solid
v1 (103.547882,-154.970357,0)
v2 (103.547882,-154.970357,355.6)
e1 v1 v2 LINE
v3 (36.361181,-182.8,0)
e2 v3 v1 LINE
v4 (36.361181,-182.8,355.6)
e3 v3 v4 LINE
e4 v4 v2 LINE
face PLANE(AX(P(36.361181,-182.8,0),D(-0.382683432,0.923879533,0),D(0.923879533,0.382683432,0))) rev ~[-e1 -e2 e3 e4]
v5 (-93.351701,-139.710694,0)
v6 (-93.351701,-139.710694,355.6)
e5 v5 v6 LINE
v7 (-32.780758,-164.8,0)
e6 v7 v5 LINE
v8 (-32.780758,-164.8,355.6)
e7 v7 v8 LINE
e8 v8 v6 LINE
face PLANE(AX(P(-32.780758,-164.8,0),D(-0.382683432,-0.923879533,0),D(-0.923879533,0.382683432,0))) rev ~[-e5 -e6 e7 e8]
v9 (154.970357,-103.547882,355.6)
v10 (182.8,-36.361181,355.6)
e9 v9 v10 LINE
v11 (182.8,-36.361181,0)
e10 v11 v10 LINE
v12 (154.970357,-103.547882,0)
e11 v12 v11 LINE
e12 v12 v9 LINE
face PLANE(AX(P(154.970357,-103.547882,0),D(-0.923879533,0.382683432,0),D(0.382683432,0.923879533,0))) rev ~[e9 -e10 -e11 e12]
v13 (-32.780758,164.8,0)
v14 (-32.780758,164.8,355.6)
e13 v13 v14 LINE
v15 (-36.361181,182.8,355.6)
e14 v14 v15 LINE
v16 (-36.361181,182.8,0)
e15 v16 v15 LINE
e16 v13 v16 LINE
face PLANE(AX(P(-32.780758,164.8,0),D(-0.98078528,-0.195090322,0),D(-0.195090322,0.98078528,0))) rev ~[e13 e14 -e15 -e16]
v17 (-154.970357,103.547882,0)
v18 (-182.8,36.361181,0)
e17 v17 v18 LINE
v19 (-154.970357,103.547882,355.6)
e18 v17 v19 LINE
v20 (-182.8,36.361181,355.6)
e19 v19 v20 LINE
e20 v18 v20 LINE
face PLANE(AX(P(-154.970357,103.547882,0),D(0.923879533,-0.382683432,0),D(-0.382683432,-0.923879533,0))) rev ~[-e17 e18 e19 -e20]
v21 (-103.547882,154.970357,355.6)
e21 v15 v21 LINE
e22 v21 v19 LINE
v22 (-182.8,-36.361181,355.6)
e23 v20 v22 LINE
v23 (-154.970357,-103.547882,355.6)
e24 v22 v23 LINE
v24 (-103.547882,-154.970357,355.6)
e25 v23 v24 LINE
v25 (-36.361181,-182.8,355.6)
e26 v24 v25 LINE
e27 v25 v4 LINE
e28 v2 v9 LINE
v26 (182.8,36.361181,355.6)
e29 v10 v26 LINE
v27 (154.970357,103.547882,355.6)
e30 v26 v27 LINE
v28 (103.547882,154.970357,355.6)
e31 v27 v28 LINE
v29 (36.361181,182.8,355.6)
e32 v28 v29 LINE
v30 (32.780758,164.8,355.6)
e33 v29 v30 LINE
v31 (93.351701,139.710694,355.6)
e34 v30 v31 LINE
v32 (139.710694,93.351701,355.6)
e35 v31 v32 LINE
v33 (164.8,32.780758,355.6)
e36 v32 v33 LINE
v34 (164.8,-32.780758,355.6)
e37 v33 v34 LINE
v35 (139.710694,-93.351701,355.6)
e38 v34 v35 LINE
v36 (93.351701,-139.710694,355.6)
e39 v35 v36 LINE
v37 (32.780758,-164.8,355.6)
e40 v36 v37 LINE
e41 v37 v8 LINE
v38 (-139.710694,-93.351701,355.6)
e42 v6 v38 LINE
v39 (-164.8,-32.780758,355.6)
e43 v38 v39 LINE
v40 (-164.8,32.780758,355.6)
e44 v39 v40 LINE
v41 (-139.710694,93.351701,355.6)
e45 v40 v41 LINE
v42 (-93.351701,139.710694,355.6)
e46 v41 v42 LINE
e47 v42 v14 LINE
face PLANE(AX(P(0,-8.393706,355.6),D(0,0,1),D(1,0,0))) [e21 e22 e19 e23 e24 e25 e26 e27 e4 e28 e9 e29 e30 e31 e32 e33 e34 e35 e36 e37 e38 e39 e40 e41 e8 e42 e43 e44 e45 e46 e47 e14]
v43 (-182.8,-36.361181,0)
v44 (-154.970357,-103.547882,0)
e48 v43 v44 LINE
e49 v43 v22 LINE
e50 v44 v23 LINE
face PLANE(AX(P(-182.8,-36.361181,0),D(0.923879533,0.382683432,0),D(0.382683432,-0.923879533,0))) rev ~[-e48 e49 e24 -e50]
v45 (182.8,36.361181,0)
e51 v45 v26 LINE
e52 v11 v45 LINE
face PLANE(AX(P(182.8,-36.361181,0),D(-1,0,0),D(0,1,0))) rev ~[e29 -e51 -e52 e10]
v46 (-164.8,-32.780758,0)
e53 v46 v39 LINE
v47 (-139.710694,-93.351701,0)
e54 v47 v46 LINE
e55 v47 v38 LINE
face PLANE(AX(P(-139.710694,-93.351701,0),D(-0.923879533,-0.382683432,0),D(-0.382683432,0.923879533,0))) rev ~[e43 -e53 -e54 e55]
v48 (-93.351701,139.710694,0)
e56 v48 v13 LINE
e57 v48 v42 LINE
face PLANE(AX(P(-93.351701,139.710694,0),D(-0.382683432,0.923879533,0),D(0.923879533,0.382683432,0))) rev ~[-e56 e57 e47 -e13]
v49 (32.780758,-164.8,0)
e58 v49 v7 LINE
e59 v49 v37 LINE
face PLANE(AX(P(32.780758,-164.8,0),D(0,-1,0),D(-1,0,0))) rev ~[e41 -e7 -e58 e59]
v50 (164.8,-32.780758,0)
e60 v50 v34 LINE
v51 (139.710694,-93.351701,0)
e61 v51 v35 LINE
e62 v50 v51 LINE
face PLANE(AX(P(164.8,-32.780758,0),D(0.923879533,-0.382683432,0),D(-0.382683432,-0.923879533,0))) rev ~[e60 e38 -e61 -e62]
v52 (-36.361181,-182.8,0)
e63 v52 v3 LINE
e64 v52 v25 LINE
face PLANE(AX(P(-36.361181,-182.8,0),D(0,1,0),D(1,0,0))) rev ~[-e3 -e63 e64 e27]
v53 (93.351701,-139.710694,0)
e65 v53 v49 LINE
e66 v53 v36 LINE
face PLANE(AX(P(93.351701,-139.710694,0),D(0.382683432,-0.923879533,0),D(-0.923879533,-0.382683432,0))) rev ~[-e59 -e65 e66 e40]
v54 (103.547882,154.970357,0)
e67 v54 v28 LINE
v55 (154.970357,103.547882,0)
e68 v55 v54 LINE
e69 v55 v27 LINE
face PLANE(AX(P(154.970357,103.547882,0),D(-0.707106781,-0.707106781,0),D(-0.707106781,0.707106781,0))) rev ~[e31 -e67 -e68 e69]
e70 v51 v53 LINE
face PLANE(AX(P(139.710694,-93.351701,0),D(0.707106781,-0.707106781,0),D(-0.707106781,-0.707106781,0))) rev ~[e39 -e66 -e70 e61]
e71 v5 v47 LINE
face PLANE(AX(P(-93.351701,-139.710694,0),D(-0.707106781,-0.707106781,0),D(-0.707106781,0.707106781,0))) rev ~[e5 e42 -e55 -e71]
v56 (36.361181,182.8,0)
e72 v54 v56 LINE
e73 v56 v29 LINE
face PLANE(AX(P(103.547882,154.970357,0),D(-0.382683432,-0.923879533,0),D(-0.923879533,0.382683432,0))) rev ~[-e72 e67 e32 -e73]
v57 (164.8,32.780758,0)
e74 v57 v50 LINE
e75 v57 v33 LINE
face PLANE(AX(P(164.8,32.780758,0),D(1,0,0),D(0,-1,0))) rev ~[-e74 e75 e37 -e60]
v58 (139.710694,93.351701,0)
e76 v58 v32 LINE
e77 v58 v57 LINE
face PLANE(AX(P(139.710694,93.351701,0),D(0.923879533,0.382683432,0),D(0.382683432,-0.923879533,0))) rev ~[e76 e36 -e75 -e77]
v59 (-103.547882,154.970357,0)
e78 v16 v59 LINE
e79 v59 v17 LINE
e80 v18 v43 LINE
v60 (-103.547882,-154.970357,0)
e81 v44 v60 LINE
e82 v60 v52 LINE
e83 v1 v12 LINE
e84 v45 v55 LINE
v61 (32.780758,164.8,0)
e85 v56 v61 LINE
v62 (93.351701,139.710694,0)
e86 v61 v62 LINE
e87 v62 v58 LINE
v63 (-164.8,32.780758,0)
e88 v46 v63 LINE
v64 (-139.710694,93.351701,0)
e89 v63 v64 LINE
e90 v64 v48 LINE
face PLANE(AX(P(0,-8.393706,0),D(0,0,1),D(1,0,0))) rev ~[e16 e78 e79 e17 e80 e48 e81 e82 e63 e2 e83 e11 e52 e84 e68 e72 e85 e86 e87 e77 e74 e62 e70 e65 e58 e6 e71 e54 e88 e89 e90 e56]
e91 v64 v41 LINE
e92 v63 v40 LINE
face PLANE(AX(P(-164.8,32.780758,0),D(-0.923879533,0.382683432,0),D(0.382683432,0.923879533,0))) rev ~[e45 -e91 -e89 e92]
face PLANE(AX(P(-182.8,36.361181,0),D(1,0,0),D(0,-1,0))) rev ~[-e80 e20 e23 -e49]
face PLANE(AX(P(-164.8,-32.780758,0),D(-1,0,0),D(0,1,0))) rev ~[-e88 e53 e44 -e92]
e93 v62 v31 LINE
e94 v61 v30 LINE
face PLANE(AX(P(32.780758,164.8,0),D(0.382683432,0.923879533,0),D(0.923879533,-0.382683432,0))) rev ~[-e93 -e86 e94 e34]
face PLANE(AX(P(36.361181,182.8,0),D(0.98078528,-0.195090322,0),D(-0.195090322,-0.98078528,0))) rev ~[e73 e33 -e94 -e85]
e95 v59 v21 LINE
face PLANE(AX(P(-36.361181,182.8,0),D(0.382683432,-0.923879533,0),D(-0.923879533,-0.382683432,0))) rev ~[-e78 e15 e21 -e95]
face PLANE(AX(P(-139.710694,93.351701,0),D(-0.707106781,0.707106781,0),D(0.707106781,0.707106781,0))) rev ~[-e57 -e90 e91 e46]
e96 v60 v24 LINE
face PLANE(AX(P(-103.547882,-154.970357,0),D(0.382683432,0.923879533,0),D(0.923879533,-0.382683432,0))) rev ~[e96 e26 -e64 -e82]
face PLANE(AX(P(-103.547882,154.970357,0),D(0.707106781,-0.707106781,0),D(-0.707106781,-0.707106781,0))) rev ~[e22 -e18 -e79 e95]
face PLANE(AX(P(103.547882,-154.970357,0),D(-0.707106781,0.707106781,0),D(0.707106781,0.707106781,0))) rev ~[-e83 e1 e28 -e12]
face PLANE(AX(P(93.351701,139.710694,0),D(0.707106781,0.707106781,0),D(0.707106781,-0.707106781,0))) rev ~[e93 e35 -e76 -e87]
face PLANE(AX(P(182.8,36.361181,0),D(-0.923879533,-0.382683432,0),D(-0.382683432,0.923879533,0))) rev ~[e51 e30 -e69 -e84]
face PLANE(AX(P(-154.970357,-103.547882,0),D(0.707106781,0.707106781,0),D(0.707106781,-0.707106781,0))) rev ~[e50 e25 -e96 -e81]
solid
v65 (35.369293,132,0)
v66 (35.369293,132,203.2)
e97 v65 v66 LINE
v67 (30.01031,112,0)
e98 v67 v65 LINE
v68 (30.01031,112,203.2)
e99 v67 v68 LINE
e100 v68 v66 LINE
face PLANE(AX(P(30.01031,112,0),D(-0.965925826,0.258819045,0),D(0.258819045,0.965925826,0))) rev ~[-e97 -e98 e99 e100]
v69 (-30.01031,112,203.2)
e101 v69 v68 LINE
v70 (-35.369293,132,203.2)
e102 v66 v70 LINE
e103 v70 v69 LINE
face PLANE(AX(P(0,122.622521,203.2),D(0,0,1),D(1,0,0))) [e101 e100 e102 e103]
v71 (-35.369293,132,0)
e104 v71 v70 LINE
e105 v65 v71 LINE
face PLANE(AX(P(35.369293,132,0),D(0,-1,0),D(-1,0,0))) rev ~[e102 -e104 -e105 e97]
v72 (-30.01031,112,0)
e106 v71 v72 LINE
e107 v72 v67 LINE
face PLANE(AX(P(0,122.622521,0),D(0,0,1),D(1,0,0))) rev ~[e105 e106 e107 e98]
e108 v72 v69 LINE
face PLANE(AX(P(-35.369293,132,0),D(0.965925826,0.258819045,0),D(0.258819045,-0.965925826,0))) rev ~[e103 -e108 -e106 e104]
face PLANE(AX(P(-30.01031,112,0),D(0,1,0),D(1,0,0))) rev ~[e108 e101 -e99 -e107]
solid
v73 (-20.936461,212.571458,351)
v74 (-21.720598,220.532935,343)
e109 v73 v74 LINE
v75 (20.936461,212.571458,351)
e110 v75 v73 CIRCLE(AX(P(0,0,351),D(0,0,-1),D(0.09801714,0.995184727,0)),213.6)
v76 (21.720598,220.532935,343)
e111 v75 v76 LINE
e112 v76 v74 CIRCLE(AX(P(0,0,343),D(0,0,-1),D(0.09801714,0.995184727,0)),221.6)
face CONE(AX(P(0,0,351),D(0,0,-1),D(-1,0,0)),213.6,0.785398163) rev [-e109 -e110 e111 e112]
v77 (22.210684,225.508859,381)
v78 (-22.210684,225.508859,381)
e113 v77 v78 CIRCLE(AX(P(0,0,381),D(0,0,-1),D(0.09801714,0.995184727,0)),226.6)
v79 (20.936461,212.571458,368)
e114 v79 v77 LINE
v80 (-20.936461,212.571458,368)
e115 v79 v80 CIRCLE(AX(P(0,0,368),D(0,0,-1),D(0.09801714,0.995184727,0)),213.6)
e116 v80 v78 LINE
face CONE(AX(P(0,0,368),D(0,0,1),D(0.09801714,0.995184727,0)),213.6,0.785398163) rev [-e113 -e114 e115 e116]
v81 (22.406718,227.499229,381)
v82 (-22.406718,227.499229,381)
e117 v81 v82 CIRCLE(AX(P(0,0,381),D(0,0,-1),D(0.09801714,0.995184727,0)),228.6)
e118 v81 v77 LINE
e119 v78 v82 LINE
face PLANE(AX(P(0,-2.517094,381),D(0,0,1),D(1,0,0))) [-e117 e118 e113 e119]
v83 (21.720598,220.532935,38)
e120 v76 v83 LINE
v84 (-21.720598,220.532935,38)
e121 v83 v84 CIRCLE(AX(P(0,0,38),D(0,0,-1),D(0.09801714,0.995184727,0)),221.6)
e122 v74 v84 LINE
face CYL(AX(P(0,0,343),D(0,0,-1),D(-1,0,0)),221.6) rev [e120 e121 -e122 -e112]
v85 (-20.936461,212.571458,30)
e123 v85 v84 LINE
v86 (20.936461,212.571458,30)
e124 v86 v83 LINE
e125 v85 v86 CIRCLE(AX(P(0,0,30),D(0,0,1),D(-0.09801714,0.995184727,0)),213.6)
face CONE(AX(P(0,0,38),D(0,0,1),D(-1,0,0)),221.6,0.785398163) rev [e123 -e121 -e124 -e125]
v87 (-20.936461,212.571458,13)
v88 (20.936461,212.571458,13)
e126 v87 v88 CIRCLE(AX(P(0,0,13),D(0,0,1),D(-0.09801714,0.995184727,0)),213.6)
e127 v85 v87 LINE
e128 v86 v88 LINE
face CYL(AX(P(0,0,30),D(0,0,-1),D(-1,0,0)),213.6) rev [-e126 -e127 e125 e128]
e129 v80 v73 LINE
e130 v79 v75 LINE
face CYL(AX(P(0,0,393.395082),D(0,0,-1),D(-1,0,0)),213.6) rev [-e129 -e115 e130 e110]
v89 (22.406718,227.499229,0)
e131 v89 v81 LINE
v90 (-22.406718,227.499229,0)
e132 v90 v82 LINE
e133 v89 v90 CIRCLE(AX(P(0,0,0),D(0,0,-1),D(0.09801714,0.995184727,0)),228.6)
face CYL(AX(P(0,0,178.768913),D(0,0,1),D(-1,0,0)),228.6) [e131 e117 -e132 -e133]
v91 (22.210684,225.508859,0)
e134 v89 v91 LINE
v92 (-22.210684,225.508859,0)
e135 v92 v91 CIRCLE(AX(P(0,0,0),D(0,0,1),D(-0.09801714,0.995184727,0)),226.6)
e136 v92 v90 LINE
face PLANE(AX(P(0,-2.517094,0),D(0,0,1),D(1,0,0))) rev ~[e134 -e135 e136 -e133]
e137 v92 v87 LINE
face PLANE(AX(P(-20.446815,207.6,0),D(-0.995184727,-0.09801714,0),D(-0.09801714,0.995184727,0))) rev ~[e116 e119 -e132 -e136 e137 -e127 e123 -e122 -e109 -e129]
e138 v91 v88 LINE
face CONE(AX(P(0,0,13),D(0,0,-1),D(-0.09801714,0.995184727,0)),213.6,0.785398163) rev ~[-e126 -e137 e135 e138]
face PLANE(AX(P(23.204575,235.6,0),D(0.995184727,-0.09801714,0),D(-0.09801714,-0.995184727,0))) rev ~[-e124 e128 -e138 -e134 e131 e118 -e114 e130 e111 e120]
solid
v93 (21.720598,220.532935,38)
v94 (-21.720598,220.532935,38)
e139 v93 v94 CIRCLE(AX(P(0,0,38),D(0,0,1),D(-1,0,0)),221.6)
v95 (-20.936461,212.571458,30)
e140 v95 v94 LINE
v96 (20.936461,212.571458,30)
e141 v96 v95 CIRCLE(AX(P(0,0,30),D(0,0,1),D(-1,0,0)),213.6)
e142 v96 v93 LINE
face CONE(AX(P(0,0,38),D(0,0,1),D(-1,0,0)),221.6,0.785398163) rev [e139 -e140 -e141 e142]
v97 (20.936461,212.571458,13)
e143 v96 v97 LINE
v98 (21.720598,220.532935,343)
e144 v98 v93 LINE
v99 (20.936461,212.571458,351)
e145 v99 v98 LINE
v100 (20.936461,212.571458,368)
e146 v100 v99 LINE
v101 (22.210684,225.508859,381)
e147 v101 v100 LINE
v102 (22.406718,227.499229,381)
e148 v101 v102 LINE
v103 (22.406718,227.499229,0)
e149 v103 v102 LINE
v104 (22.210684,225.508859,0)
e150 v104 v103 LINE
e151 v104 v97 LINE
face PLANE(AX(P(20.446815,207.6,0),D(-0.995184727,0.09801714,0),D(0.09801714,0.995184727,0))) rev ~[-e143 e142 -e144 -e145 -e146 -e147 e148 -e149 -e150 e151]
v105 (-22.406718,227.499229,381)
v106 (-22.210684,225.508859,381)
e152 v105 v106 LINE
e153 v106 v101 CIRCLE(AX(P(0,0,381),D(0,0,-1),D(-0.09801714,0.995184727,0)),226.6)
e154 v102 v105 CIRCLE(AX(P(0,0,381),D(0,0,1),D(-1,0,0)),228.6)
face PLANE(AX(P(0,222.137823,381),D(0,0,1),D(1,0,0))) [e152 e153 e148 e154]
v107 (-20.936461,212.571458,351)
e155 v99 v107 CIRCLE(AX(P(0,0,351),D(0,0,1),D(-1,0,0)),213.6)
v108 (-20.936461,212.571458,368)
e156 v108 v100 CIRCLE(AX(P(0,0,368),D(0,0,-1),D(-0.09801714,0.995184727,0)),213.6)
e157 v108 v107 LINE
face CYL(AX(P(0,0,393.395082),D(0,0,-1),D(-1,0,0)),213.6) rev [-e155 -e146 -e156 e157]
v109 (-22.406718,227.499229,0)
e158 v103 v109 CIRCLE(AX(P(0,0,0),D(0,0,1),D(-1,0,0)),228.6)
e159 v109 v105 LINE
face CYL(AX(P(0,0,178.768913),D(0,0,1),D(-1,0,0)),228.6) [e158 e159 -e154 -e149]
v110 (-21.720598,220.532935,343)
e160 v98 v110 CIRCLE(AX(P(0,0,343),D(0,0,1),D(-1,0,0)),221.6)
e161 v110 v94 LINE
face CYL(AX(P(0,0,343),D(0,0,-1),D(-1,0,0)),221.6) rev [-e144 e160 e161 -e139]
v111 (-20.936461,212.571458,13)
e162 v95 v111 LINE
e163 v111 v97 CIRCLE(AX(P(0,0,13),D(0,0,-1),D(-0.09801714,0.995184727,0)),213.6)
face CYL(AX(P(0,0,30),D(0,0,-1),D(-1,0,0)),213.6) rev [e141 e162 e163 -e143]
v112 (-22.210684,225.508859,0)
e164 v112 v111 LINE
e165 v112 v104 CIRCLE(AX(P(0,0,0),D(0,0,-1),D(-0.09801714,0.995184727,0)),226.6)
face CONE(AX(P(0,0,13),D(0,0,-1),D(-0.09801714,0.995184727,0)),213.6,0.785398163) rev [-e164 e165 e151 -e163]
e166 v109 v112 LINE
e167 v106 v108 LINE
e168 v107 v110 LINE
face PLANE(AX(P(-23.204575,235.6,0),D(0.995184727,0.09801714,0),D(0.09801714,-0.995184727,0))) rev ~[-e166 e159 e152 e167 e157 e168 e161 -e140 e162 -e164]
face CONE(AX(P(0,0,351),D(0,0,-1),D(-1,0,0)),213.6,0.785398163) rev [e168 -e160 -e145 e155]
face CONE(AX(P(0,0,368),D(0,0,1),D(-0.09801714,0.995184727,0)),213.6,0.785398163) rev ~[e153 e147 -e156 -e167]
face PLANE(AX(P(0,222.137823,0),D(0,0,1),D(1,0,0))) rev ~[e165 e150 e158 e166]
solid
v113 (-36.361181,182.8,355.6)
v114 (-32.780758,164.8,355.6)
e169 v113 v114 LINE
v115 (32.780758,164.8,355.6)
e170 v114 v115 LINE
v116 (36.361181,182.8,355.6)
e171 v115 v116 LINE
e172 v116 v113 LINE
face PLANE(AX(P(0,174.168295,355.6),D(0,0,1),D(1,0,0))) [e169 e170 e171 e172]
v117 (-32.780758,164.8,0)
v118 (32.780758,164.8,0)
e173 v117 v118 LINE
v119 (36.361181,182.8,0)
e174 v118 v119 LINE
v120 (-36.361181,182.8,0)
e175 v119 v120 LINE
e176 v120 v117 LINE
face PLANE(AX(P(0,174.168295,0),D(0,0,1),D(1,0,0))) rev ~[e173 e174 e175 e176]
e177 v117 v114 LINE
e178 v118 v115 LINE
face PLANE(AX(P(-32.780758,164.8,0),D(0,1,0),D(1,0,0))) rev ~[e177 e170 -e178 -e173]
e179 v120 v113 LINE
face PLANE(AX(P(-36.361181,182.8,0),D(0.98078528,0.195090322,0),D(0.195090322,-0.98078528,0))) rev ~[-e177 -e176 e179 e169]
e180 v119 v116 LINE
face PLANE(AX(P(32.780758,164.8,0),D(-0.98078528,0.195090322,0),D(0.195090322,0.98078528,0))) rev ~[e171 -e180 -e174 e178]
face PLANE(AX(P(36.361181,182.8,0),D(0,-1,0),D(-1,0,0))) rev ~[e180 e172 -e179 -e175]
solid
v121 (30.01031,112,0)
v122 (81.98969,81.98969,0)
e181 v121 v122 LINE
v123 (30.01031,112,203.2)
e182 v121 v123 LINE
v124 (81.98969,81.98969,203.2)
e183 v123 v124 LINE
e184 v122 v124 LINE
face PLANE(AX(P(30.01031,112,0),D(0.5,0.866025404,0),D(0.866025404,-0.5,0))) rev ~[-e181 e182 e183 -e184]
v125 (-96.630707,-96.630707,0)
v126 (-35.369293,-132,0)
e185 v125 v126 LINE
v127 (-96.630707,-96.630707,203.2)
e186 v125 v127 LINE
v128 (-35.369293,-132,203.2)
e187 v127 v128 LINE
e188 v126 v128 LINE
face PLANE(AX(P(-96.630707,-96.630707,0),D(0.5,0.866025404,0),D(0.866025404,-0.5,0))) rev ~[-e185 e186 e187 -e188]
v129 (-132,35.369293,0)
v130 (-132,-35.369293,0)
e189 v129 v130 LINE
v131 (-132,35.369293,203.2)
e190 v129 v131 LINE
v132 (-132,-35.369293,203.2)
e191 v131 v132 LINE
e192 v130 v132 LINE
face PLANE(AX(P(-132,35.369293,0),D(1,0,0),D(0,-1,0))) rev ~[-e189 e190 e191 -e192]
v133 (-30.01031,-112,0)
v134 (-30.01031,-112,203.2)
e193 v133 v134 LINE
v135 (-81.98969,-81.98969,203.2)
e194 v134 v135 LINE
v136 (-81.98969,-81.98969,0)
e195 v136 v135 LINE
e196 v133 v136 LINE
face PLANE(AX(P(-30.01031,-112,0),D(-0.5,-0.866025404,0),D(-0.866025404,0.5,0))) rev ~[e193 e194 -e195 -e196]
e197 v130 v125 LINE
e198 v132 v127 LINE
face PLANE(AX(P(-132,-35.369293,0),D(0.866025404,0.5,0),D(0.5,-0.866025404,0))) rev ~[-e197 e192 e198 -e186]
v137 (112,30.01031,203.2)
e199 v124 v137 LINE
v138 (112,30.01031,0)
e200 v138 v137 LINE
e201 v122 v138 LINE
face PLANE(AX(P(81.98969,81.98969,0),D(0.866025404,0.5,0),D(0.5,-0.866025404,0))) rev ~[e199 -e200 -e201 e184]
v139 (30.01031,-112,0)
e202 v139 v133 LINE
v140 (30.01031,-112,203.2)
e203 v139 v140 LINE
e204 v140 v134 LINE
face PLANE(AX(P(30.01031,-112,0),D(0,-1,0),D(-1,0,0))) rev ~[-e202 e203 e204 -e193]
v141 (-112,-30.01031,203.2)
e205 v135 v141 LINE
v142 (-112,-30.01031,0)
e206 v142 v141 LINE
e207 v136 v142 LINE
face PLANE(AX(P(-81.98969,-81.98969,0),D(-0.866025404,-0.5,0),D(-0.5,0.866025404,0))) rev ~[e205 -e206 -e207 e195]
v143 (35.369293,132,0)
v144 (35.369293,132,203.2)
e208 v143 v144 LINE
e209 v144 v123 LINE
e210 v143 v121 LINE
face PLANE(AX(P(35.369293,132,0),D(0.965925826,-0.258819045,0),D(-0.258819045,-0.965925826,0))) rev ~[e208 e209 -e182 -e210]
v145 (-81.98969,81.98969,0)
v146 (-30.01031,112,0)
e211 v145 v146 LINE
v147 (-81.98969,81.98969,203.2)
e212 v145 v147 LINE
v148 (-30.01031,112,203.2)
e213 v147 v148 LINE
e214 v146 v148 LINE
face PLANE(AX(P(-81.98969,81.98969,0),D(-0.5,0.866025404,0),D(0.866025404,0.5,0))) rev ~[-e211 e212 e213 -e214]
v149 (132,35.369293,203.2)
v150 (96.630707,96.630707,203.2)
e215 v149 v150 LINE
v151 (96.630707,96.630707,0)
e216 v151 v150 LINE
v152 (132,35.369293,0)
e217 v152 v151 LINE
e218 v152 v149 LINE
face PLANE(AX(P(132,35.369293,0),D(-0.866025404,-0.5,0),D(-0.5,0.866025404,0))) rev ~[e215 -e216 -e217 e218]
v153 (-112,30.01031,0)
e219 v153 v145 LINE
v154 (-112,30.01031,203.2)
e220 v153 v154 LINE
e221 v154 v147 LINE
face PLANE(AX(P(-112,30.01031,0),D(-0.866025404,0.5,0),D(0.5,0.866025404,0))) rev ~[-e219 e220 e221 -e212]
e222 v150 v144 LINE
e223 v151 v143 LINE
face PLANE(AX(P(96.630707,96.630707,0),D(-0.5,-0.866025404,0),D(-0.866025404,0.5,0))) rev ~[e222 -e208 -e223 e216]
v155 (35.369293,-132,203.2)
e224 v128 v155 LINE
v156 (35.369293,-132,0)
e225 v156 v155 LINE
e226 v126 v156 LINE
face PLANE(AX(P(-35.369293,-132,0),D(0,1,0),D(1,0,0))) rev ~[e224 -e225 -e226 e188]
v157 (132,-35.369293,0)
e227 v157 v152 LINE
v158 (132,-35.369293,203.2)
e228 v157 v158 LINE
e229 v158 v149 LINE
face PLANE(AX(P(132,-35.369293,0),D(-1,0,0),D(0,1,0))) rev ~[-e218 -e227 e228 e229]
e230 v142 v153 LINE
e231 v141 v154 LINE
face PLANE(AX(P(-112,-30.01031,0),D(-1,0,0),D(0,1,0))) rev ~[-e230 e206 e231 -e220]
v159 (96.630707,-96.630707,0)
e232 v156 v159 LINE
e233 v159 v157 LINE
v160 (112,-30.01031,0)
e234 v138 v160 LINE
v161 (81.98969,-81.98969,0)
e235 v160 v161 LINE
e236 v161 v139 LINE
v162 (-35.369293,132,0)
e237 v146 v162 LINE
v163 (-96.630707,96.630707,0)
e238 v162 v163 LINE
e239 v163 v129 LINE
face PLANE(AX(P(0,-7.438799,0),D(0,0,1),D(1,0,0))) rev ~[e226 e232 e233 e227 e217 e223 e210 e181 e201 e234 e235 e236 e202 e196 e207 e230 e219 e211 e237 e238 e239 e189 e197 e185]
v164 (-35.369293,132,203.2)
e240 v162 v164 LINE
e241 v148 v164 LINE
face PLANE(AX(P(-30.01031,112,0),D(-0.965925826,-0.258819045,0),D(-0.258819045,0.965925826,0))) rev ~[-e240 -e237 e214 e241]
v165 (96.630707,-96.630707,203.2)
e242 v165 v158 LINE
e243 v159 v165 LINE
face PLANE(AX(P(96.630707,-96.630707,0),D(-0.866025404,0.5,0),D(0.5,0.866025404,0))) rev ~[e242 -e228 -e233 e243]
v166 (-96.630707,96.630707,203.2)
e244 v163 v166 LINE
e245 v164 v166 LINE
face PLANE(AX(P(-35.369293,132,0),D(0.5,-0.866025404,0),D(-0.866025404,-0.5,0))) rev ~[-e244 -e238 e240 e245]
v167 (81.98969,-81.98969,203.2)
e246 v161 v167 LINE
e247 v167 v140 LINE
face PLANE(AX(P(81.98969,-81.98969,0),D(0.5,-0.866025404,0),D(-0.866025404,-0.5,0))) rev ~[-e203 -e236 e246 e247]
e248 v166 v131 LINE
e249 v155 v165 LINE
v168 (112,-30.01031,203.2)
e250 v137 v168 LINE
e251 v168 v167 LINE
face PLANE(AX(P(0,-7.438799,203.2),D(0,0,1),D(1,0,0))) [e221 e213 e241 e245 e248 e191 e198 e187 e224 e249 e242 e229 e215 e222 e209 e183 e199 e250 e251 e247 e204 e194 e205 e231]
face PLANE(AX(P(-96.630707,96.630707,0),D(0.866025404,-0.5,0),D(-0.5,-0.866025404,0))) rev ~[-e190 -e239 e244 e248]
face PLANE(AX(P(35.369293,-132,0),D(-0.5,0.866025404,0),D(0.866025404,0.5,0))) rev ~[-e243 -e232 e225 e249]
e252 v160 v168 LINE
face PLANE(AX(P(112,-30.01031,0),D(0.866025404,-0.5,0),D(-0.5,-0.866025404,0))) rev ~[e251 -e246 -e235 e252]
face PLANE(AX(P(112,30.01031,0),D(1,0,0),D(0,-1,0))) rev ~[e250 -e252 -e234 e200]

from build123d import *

# Parameters (mm, degrees)
F1_DEPTH  = 381
F2_DEPTH  = 381
F3_W      = 113.4495702038
F3_H      = 429.2523376644
F5_SIZE   = 13
F5_2_SIZE = 13
F7_DEPTH  = 355.6
F8_DEPTH  = 355.6
F10_DEPTH = 203.2
F11_DEPTH = 203.2


with BuildPart() as f1:
    # F0 (on Top) → F1 (new body)
    with BuildSketch(Plane.XY):
        Polygon((20.4468153369, 207.6), (23.2045746309, 235.6), (-23.2045746309, 235.6), (-20.4468153369, 207.6), align=None)
    extrude(amount=F1_DEPTH)


with BuildPart() as f2:
    # F0 (on Top) → F2 (new body, through all)
    with BuildSketch(Plane.XY):
        Polygon((235.6, 23.2045746309), (226.546024126, 68.7219851031), (208.7860115933, 111.5984482274), (183.0024697236, 150.1862455715), (150.1862455715, 183.0024697236), (111.5984482274, 208.7860115933), (68.7219851031, 226.546024126), (23.2045746309, 235.6), (20.4468153369, 207.6), (60.5546863641, 199.6220484234), (98.3354747538, 183.9727334753), (132.3372859959, 161.2534495528), (161.2534495528, 132.3372859959), (183.9727334753, 98.3354747538), (199.6220484234, 60.5546863641), (207.6, 20.4468153369), (207.6, -20.4468153369), (199.6220484234, -60.5546863641), (183.9727334753, -98.3354747538), (161.2534495528, -132.3372859959), (132.3372859959, -161.2534495528), (98.3354747538, -183.9727334753), (60.5546863641, -199.6220484234), (20.4468153369, -207.6), (-20.4468153369, -207.6), (-60.5546863641, -199.6220484234), (-98.3354747538, -183.9727334753), (-132.3372859959, -161.2534495528), (-161.2534495528, -132.3372859959), (-183.9727334753, -98.3354747538), (-199.6220484234, -60.5546863641), (-207.6, -20.4468153369), (-207.6, 20.4468153369), (-199.6220484234, 60.5546863641), (-183.9727334753, 98.3354747538), (-161.2534495528, 132.3372859959), (-132.3372859959, 161.2534495528), (-98.3354747538, 183.9727334753), (-60.5546863641, 199.6220484234), (-20.4468153369, 207.6), (-23.2045746309, 235.6), (-68.7219851031, 226.546024126), (-111.5984482274, 208.7860115933), (-150.1862455715, 183.0024697236), (-183.0024697236, 150.1862455715), (-208.7860115933, 111.5984482274), (-226.546024126, 68.7219851031), (-235.6, 23.2045746309), (-235.6, -23.2045746309), (-226.546024126, -68.7219851031), (-208.7860115933, -111.5984482274), (-183.0024697236, -150.1862455715), (-150.1862455715, -183.0024697236), (-111.5984482274, -208.7860115933), (-68.7219851031, -226.546024126), (-23.2045746309, -235.6), (23.2045746309, -235.6), (68.7219851031, -226.546024126), (111.5984482274, -208.7860115933), (150.1862455715, -183.0024697236), (183.0024697236, -150.1862455715), (208.7860115933, -111.5984482274), (226.546024126, -68.7219851031), (235.6, -23.2045746309), align=None)
    extrude(amount=F2_DEPTH)


with BuildPart() as f4_tool:
    # F3 (on Front) → F4 (revolve)
    with BuildSketch(Plane.XZ):
        with Locations((-285.3247851019, 178.768913353)):
            Rectangle(F3_W, F3_H)
        Polygon((-213.6, 30), (-213.6, -35.8572554791), (-190.5178142795, -35.8572554791), (-190.5178142795, 393.3950821852), (-213.6, 393.3950821852), (-213.6, 351), (-221.6, 343), (-221.6, 38), align=None)
    revolve(axis=Axis((0, 0, 198.5659504), (0, 0, 1)))


with BuildPart() as f1_1:
    add(f1.part)

    # F4: cut by f4_tool
    add(f4_tool.part, mode=Mode.SUBTRACT)

    # F5#2
    f5_2_edges = [f1_1.edges().sort_by_distance(p)[0] for p in [
        (0, 213.6, 381),
        (0, 213.6, 0),
    ]]
    chamfer(f5_2_edges, length=F5_2_SIZE)


with BuildPart() as f2_1:
    add(f2.part)

    # F4: cut by f4_tool
    add(f4_tool.part, mode=Mode.SUBTRACT)

    # F5
    f5_edges = [f2_1.edges().sort_by_distance(p)[0] for p in [
        (0, -213.6, 381),
        (0, -213.6, 0),
    ]]
    chamfer(f5_edges, length=F5_SIZE)


with BuildPart() as f7:
    # F6 (on Top) → F7 (new body)
    with BuildSketch(Plane.XY):
        Polygon((32.7807581442, 164.8), (36.361180757, 182.8), (-36.361180757, 182.8), (-32.7807581442, 164.8), align=None)
    extrude(amount=F7_DEPTH)


with BuildPart() as f8:
    # F6 (on Top) → F8 (new body, through all)
    with BuildSketch(Plane.XY):
        Polygon((182.8, 36.361180757), (154.9703570861, 103.5478821157), (103.5478821157, 154.9703570861), (36.361180757, 182.8), (32.7807581442, 164.8), (93.3517011634, 139.7106939157), (139.7106939157, 93.3517011634), (164.8, 32.7807581442), (164.8, -32.7807581442), (139.7106939157, -93.3517011634), (93.3517011634, -139.7106939157), (32.7807581442, -164.8), (-32.7807581442, -164.8), (-93.3517011634, -139.7106939157), (-139.7106939157, -93.3517011634), (-164.8, -32.7807581442), (-164.8, 32.7807581442), (-139.7106939157, 93.3517011634), (-93.3517011634, 139.7106939157), (-32.7807581442, 164.8), (-36.361180757, 182.8), (-103.5478821157, 154.9703570861), (-154.9703570861, 103.5478821157), (-182.8, 36.361180757), (-182.8, -36.361180757), (-154.9703570861, -103.5478821157), (-103.5478821157, -154.9703570861), (-36.361180757, -182.8), (36.361180757, -182.8), (103.5478821157, -154.9703570861), (154.9703570861, -103.5478821157), (182.8, -36.361180757), align=None)
    extrude(amount=F8_DEPTH)


with BuildPart() as f10:
    # F9 (on Top) → F10 (new body)
    with BuildSketch(Plane.XY):
        Polygon((30.0103095523, 112), (35.3692934009, 132), (-35.3692934009, 132), (-30.0103095523, 112), align=None)
    extrude(amount=F10_DEPTH)


with BuildPart() as f11:
    # F9 (on Top) → F11 (new body, through all)
    with BuildSketch(Plane.XY):
        Polygon((132, -35.3692934009), (132, 35.3692934009), (96.6307065991, 96.6307065991), (35.3692934009, 132), (30.0103095523, 112), (81.9896904477, 81.9896904477), (112, 30.0103095523), (112, -30.0103095523), (81.9896904477, -81.9896904477), (30.0103095523, -112), (-30.0103095523, -112), (-81.9896904477, -81.9896904477), (-112, -30.0103095523), (-112, 30.0103095523), (-81.9896904477, 81.9896904477), (-30.0103095523, 112), (-35.3692934009, 132), (-96.6307065991, 96.6307065991), (-132, 35.3692934009), (-132, -35.3692934009), (-96.6307065991, -96.6307065991), (-35.3692934009, -132), (35.3692934009, -132), (96.6307065991, -96.6307065991), align=None)
    extrude(amount=F11_DEPTH)


solid = Compound([f1_1.part, f2_1.part, f7.part, f8.part, f10.part, f11.part])
